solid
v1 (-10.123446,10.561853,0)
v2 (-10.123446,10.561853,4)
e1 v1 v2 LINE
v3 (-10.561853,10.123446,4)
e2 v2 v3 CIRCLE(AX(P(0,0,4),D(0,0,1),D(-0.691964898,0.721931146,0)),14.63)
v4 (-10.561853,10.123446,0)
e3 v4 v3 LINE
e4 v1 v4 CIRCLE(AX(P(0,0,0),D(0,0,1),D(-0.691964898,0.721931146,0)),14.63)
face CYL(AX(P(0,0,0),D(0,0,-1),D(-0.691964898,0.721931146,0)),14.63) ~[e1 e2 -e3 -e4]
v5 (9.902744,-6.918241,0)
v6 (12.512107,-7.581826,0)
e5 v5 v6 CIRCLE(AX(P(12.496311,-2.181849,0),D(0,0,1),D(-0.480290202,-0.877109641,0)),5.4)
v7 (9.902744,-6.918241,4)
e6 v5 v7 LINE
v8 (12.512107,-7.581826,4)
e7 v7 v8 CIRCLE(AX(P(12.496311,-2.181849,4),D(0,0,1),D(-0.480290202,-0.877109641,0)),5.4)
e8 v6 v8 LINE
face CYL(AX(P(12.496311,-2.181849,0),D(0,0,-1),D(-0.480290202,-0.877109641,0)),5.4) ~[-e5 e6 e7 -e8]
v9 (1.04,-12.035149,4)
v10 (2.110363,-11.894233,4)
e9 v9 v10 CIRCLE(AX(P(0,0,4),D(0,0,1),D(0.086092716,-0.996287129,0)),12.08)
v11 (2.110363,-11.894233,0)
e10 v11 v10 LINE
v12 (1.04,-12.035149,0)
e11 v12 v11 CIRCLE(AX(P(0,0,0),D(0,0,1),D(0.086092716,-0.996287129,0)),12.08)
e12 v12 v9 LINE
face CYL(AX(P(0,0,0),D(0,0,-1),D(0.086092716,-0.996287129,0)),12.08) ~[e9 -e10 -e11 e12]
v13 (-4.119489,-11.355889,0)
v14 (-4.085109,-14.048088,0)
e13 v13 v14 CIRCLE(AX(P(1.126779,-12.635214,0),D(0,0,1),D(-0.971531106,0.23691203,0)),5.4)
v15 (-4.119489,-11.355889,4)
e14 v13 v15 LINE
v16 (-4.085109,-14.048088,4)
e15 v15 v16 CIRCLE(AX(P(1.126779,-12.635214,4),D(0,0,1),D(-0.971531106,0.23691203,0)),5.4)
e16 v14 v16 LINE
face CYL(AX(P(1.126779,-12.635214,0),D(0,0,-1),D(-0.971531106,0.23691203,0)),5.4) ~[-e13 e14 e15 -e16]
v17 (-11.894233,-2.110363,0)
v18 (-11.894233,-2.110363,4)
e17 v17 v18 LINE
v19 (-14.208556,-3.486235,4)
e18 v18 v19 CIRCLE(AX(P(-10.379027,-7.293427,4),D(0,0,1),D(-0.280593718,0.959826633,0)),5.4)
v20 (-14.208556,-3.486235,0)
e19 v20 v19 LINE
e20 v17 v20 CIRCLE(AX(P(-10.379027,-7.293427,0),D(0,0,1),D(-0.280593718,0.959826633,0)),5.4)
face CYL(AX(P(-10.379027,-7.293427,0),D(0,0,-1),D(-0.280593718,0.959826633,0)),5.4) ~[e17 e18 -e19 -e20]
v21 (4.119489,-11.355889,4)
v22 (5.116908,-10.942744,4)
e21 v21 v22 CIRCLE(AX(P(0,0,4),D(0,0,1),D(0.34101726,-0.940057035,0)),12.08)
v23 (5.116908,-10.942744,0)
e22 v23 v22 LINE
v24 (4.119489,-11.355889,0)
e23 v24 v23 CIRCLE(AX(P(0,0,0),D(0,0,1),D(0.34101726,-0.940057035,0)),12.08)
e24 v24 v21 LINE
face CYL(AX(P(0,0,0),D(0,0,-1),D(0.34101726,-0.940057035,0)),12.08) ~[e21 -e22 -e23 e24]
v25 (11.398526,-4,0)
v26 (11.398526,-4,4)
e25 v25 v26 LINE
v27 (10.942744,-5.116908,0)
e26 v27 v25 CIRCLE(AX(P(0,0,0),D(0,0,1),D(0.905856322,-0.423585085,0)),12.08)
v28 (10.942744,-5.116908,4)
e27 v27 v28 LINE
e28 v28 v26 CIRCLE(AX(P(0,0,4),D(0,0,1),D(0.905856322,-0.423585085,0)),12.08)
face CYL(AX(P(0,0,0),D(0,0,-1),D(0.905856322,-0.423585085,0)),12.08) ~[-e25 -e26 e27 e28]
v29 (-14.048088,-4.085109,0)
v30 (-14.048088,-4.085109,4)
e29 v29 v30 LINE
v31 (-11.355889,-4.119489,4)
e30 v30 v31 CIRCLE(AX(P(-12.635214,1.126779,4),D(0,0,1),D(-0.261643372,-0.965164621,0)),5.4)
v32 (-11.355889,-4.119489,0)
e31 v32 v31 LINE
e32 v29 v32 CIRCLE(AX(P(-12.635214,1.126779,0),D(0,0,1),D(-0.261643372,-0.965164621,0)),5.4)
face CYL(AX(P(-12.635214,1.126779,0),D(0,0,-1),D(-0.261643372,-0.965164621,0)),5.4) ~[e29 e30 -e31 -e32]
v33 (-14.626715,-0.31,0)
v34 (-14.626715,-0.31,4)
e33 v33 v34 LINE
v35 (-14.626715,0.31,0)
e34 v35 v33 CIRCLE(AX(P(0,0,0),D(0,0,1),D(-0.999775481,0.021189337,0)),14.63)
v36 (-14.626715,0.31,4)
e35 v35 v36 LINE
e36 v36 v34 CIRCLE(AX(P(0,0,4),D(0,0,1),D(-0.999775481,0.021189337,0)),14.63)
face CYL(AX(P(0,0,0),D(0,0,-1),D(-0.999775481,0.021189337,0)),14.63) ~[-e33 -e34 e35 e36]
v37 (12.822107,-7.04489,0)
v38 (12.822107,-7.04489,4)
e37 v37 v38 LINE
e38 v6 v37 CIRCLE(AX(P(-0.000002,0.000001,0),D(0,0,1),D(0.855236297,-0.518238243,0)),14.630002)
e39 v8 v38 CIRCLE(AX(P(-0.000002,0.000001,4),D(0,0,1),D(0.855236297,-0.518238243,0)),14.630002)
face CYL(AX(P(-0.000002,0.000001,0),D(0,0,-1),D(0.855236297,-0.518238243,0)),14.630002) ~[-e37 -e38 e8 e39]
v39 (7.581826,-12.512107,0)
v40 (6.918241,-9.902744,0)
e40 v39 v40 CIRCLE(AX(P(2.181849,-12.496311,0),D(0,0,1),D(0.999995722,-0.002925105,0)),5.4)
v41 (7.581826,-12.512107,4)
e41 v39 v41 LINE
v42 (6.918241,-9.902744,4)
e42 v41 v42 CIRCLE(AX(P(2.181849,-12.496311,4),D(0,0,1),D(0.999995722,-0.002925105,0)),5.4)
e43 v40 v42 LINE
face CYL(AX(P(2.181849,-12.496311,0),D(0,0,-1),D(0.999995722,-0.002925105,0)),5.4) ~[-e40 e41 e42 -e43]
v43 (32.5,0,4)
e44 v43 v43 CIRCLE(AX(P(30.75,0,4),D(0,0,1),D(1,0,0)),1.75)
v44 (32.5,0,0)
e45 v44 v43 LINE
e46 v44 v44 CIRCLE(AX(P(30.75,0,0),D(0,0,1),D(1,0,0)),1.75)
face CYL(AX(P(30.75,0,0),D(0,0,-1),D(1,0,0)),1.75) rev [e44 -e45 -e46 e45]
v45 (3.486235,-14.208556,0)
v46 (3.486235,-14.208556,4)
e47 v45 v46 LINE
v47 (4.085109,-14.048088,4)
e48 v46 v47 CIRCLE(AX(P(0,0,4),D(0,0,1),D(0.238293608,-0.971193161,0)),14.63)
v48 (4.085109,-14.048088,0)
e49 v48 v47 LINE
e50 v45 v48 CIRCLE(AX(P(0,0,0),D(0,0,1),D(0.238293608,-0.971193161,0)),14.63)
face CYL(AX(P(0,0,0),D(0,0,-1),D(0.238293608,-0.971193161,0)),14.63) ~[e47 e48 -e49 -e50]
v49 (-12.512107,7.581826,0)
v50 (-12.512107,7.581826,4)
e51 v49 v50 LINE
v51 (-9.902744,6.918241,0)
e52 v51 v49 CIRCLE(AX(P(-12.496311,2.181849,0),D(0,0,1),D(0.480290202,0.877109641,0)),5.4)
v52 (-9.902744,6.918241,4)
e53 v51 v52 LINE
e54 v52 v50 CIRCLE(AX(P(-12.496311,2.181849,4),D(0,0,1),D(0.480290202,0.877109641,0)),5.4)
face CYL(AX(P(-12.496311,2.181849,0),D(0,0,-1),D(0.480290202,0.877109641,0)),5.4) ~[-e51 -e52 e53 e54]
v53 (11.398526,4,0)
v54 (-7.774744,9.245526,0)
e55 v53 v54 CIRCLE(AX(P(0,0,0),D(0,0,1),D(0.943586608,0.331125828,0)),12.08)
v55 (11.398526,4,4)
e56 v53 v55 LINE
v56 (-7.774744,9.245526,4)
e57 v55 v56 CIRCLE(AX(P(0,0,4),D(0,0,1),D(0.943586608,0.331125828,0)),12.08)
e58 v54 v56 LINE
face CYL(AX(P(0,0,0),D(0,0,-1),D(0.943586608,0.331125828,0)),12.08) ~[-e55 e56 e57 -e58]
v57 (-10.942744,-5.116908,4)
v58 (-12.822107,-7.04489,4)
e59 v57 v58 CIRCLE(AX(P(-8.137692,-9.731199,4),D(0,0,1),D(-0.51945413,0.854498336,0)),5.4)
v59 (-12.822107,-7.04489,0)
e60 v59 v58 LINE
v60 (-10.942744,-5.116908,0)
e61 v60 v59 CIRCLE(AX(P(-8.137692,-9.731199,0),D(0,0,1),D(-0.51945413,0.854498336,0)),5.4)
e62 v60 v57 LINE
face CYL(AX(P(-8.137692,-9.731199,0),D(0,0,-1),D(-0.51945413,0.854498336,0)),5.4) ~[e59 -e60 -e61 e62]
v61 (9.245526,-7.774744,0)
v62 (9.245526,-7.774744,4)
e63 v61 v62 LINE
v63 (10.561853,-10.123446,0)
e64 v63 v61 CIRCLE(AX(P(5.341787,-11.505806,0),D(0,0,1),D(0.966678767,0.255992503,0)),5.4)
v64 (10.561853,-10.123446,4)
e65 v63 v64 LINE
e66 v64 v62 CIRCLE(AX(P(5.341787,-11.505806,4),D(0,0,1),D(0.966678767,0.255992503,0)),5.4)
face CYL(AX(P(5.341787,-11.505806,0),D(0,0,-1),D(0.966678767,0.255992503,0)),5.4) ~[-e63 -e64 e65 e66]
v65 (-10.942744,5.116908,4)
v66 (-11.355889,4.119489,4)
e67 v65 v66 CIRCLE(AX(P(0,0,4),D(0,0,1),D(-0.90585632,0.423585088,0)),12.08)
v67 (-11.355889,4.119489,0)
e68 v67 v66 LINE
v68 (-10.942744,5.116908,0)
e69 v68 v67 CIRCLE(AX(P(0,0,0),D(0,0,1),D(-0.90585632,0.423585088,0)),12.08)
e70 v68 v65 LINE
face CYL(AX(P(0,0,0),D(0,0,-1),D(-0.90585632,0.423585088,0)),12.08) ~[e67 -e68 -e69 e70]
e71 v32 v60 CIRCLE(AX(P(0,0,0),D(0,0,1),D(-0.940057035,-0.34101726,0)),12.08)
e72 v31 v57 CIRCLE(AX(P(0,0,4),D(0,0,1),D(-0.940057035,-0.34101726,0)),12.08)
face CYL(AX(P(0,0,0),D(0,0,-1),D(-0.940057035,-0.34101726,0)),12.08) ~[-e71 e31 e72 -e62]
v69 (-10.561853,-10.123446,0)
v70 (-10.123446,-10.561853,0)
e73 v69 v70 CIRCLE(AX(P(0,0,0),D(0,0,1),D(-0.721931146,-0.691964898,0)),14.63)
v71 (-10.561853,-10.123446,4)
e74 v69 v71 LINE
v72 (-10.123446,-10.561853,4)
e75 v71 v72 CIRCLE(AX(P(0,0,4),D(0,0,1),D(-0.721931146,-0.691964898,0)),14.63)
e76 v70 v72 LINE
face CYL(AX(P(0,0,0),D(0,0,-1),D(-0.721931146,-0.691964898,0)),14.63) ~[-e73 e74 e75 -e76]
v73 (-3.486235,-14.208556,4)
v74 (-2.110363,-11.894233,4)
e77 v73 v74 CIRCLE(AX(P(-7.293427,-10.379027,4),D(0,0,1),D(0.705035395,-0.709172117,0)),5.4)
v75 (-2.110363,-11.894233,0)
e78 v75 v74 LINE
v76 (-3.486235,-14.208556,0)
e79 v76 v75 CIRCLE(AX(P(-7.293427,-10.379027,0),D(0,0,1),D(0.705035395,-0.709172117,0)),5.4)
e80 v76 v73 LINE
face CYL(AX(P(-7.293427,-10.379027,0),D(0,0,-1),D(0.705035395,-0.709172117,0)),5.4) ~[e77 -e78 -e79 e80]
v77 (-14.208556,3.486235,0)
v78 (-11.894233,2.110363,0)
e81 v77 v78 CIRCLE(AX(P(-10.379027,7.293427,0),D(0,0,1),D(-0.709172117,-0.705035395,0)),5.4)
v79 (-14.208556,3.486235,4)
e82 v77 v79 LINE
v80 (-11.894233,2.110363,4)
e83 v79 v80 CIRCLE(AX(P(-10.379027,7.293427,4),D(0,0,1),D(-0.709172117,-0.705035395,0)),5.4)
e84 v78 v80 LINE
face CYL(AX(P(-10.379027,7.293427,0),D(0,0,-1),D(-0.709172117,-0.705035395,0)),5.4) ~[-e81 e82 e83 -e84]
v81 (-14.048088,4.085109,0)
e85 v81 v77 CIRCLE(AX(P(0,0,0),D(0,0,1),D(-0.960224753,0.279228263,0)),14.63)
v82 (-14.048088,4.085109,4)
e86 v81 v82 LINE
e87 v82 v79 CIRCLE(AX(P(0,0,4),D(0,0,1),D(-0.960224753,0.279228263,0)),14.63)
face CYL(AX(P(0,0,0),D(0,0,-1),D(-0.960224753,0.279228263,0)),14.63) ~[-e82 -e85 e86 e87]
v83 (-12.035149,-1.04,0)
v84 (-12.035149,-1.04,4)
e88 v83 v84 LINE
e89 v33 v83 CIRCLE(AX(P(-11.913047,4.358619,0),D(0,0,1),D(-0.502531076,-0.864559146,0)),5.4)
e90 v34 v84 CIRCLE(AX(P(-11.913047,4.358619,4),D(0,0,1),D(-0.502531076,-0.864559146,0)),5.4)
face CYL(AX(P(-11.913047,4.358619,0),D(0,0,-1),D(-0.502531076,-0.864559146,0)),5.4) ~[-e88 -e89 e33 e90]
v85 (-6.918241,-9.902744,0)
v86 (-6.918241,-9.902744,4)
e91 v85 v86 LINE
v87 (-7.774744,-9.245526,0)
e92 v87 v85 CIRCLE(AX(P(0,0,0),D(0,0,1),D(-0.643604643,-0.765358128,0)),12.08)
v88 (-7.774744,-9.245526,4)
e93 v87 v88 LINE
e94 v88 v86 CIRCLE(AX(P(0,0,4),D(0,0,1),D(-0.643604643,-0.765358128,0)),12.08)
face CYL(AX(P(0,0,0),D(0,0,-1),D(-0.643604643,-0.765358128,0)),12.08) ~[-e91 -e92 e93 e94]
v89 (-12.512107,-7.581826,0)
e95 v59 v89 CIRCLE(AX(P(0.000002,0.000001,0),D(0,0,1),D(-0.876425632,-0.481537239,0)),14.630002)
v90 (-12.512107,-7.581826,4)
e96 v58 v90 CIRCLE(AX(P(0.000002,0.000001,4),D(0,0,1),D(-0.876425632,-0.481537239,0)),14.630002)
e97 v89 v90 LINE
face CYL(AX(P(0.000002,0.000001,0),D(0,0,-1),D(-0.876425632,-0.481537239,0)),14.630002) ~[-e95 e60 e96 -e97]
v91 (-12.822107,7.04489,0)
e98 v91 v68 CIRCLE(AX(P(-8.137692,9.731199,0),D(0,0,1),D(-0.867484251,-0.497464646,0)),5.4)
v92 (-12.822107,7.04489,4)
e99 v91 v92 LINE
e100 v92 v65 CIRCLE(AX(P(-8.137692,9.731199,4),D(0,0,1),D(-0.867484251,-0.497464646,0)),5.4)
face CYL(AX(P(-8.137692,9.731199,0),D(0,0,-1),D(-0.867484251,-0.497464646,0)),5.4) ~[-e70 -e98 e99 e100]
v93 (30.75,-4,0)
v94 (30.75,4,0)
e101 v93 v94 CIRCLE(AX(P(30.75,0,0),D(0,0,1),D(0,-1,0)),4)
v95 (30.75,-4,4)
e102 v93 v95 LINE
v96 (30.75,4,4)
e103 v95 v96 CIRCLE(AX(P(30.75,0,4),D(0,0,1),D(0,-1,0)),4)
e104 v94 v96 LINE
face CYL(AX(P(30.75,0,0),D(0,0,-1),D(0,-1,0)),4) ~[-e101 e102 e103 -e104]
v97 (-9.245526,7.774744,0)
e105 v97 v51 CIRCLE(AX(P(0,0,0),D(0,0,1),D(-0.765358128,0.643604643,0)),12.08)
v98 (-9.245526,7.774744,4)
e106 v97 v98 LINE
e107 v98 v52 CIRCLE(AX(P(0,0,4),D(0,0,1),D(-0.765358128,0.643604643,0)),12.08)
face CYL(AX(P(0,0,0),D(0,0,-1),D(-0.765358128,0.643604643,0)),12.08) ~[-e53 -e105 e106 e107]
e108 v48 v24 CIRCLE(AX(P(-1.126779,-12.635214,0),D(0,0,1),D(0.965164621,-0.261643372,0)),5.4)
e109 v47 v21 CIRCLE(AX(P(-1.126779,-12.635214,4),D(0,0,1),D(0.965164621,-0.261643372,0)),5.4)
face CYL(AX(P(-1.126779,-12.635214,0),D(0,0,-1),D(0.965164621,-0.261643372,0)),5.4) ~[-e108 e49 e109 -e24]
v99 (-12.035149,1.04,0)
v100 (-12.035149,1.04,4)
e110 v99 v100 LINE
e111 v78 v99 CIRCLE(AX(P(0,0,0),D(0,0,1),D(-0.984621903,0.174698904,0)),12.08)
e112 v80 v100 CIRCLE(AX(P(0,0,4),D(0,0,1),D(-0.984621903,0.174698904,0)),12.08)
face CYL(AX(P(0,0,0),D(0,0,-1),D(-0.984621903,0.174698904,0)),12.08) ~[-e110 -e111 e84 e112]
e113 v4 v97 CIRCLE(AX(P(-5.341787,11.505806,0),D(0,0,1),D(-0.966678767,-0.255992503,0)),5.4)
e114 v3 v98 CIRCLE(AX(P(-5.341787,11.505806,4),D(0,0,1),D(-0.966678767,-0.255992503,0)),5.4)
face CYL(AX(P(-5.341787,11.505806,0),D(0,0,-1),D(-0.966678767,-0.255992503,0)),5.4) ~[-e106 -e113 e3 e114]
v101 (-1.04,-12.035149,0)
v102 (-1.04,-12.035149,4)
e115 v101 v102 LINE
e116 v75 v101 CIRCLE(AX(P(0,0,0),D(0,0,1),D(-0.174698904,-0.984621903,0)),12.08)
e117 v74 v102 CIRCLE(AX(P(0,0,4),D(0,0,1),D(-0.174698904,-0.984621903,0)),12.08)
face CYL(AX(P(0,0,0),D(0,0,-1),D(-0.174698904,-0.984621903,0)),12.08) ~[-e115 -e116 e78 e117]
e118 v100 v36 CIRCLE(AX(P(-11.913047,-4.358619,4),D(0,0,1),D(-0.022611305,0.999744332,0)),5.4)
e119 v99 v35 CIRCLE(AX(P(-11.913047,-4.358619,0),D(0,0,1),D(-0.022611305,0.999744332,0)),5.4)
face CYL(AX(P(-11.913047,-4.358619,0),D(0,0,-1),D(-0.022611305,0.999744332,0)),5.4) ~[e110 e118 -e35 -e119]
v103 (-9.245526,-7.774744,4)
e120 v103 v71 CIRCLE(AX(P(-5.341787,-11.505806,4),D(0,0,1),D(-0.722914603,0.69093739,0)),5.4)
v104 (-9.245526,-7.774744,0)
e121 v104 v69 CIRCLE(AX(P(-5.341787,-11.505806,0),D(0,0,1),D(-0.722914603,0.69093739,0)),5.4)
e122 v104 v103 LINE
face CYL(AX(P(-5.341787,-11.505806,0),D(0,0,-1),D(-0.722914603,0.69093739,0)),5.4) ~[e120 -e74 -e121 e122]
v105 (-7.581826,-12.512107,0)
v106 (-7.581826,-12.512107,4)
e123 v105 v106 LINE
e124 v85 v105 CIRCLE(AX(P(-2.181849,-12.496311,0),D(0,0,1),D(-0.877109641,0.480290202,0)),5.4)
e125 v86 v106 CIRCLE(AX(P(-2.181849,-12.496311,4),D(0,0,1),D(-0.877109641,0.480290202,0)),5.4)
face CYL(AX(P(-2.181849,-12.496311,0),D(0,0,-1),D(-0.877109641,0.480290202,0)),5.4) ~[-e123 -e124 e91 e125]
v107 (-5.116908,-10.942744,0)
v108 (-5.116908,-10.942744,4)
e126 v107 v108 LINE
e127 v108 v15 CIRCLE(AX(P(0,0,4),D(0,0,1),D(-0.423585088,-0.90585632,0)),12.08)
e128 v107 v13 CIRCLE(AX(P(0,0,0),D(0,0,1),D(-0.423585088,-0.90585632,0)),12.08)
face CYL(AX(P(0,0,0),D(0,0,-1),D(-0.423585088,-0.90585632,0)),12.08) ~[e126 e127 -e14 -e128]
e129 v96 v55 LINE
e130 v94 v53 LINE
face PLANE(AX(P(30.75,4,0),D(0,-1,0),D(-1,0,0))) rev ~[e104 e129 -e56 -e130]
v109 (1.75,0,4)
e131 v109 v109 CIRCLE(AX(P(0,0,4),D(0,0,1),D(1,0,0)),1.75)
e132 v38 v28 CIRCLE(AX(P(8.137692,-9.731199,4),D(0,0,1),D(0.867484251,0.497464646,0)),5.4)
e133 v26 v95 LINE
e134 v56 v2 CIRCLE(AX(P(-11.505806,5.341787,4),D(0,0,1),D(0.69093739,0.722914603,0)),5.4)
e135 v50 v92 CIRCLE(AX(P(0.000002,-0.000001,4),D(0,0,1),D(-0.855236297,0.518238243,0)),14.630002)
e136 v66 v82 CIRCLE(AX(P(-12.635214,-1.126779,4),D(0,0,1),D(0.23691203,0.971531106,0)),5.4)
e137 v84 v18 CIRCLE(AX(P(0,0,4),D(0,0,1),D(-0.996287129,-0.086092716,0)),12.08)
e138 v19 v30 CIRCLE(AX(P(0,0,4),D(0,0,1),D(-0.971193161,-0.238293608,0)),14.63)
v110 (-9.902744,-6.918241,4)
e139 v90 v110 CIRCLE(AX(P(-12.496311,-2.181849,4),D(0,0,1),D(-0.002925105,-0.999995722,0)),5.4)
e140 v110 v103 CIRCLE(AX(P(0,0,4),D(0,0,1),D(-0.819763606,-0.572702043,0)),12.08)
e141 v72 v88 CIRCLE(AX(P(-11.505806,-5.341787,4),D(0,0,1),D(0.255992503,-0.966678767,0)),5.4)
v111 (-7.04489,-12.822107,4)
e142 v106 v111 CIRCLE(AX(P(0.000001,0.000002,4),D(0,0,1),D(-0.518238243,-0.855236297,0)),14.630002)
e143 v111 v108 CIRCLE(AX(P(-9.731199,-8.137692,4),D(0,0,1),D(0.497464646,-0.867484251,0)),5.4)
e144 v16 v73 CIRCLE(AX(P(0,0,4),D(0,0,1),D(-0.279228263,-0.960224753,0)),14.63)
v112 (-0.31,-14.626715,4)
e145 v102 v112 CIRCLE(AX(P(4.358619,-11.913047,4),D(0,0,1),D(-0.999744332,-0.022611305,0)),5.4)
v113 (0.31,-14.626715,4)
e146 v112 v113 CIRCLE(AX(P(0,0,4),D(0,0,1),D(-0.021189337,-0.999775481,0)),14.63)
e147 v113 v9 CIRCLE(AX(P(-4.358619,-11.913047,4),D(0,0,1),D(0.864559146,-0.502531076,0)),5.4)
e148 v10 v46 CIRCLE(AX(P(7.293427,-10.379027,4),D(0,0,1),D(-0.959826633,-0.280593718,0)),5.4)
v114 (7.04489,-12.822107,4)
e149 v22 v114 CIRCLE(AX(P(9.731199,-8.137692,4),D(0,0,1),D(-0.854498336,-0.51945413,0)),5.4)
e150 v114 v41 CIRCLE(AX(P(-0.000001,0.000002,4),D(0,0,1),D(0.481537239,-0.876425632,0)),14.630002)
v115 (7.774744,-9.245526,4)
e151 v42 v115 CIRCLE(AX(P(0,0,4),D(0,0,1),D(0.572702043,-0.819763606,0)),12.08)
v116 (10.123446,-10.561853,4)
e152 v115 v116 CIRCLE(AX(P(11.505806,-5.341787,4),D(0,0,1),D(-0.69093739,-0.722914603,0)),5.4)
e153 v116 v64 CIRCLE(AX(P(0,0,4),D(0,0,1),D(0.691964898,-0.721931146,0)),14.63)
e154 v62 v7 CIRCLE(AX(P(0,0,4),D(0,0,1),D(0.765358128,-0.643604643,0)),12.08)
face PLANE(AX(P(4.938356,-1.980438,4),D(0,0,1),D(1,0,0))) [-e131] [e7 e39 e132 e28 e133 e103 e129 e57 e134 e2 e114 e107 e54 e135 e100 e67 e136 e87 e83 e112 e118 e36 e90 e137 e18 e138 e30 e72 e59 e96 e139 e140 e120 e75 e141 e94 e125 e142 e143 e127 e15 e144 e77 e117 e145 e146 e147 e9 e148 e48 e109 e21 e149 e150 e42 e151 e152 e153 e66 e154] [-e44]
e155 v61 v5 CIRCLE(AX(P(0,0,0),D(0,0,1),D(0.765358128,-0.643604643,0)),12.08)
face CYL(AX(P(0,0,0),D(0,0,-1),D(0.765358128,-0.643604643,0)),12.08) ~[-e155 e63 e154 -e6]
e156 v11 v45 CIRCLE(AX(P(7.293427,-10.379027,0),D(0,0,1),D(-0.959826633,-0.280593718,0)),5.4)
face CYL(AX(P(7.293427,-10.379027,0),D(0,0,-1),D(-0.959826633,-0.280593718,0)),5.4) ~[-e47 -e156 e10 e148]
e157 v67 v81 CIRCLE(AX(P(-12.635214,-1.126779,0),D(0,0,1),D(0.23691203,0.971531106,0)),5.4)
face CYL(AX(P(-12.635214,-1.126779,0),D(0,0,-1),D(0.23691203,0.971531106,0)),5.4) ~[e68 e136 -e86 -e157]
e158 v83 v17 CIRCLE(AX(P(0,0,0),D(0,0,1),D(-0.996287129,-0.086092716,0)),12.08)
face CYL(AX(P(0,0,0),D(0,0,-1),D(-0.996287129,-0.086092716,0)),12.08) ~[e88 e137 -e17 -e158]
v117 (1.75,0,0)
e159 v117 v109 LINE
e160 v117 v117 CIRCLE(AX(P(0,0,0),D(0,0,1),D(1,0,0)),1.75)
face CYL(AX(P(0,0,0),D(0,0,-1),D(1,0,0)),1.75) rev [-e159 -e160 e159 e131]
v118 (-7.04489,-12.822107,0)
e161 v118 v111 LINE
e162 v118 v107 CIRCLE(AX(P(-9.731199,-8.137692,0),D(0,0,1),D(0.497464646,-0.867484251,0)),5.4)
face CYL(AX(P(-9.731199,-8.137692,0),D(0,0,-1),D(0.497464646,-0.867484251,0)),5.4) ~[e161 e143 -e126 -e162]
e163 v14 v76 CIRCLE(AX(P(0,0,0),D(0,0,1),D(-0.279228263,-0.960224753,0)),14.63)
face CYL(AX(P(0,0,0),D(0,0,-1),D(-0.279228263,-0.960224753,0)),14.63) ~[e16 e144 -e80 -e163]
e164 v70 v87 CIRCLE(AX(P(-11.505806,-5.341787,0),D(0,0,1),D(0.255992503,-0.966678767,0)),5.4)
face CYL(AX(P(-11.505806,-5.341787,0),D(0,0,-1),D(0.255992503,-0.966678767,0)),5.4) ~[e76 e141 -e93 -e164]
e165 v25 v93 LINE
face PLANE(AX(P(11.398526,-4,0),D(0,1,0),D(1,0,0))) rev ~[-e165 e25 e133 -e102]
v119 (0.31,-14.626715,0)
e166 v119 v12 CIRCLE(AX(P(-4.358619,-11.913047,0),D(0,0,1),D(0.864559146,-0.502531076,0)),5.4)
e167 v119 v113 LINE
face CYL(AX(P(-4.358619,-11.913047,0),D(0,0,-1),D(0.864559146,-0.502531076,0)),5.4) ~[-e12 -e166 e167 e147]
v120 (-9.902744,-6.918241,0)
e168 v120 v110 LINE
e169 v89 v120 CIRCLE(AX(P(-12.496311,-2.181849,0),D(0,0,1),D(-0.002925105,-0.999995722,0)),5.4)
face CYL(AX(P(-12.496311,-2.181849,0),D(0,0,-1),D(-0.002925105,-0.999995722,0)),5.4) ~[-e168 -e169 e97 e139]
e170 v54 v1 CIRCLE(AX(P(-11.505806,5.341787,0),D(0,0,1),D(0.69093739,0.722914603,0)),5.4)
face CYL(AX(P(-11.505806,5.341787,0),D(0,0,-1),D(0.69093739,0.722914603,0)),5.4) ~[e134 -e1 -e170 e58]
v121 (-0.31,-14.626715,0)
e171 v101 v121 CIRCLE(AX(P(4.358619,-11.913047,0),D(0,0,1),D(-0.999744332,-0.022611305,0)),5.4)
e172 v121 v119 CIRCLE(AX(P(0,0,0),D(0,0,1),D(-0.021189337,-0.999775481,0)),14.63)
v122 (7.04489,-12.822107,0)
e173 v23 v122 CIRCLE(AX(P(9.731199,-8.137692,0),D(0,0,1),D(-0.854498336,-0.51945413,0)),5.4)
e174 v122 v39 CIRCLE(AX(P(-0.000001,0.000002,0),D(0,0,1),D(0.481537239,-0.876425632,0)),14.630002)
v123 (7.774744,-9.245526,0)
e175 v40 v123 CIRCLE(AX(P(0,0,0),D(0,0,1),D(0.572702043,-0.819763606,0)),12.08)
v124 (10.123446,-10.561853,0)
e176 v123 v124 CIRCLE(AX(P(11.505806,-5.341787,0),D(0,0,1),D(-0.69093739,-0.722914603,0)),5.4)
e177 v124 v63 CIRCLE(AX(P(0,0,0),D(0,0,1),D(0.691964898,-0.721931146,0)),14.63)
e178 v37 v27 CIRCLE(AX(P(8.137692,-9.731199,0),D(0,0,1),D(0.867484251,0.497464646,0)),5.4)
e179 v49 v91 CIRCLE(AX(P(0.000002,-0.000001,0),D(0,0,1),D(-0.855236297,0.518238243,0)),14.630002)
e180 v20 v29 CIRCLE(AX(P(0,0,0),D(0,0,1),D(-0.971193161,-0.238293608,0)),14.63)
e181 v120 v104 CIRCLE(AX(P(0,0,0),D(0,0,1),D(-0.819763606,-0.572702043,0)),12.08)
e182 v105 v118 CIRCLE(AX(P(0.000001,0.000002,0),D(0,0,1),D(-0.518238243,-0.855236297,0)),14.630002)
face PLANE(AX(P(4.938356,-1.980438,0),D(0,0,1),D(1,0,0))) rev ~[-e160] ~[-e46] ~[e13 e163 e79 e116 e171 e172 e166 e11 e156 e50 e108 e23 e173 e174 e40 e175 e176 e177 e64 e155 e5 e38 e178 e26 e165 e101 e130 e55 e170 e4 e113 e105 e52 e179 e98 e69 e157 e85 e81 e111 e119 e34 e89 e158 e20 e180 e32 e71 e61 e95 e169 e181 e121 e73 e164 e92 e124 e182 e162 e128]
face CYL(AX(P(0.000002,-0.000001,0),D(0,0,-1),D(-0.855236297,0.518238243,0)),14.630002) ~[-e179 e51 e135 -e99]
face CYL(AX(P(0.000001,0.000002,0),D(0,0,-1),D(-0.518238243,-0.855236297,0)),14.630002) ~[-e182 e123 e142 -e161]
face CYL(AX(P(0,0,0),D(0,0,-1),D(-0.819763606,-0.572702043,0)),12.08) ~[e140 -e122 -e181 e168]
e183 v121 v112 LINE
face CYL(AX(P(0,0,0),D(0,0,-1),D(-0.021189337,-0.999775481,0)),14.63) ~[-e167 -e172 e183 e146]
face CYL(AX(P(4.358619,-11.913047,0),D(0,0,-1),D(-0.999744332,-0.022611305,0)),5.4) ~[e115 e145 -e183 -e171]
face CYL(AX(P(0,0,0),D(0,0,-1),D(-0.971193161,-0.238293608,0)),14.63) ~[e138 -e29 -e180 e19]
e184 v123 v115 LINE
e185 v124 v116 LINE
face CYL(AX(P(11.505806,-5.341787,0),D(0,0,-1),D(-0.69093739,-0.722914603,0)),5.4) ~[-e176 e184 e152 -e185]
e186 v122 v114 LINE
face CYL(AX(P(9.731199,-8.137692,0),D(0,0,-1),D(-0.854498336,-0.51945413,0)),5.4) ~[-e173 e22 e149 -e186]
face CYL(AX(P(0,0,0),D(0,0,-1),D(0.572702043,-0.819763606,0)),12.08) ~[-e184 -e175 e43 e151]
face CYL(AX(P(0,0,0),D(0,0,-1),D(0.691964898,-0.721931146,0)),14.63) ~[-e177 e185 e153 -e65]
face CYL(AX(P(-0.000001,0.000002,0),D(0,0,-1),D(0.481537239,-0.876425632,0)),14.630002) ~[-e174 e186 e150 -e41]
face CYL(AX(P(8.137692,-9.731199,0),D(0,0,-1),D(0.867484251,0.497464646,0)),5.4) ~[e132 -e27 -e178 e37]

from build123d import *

# Parameters (mm, degrees)
SKETCH1_R           = 1.75
BOSS_EXTRUDE3_DEPTH = 4


with BuildPart() as part:
    # Sketch1 → Boss-Extrude3 (new body)
    with BuildSketch(Plane.XY):
        with BuildLine():
            ThreePointArc((11.398526221, 4), (3.187763399, 11.651805204), (-7.774744082, 9.245526186))
            ThreePointArc((-7.774744082, 9.245526186), (-8.865739978, 10.052419077), (-10.123446462, 10.561852666))
            ThreePointArc((-10.123446462, 10.561852666), (-10.344972209, 10.344972209), (-10.561852666, 10.123446462))
            ThreePointArc((-10.561852666, 10.123446462), (-10.052419077, 8.865739978), (-9.245526186, 7.774744082))
            ThreePointArc((-9.245526186, 7.774744082), (-9.583708351, 7.353838062), (-9.90274436, 6.918240682))
            ThreePointArc((-9.90274436, 6.918240682), (-11.16540472, 7.415268848), (-12.51210701, 7.581825517))
            ThreePointArc((-12.51210701, 7.581825517), (-12.669951657, 7.315), (-12.82210701, 7.044889767))
            ThreePointArc((-12.82210701, 7.044889767), (-12.004513558, 5.961889707), (-10.94274436, 5.116907842))
            ThreePointArc((-10.94274436, 5.116907842), (-11.160464753, 4.622815863), (-11.355888976, 4.119488508))
            ThreePointArc((-11.355888976, 4.119488508), (-12.704165582, 4.272780301), (-14.048088143, 4.085109489))
            ThreePointArc((-14.048088143, 4.085109489), (-14.131494839, 3.78652263), (-14.208555951, 3.486235477))
            ThreePointArc((-14.208555951, 3.486235477), (-13.138520279, 2.651746506), (-11.89423259, 2.110362789))
            ThreePointArc((-11.89423259, 2.110362789), (-11.976653925, 1.576756402), (-12.035148524, 1.04))
            ThreePointArc((-12.035148524, 1.04), (-13.377158555, 0.839108838), (-14.626715284, 0.31))
            ThreePointArc((-14.626715284, 0.31), (-14.63, 0), (-14.626715284, -0.31))
            ThreePointArc((-14.626715284, -0.31), (-13.377158555, -0.839108838), (-12.035148524, -1.04))
            ThreePointArc((-12.035148524, -1.04), (-11.976653925, -1.576756402), (-11.89423259, -2.110362789))
            ThreePointArc((-11.89423259, -2.110362789), (-13.138520279, -2.651746506), (-14.208555951, -3.486235477))
            ThreePointArc((-14.208555951, -3.486235477), (-14.131494839, -3.78652263), (-14.048088143, -4.085109489))
            ThreePointArc((-14.048088143, -4.085109489), (-12.704165582, -4.272780301), (-11.355888976, -4.119488508))
            ThreePointArc((-11.355888976, -4.119488508), (-11.160464753, -4.622815863), (-10.94274436, -5.116907842))
            ThreePointArc((-10.94274436, -5.116907842), (-12.004513558, -5.961889707), (-12.82210701, -7.044889767))
            ThreePointArc((-12.82210701, -7.044889767), (-12.669951657, -7.315), (-12.51210701, -7.581825517))
            ThreePointArc((-12.51210701, -7.581825517), (-11.16540472, -7.415268848), (-9.90274436, -6.918240682))
            ThreePointArc((-9.90274436, -6.918240682), (-9.583708351, -7.353838062), (-9.245526186, -7.774744082))
            ThreePointArc((-9.245526186, -7.774744082), (-10.052419077, -8.865739978), (-10.561852666, -10.123446462))
            ThreePointArc((-10.561852666, -10.123446462), (-10.344972209, -10.344972209), (-10.123446462, -10.561852666))
            ThreePointArc((-10.123446462, -10.561852666), (-8.865739978, -10.052419077), (-7.774744082, -9.245526186))
            ThreePointArc((-7.774744082, -9.245526186), (-7.353838062, -9.583708351), (-6.918240682, -9.90274436))
            ThreePointArc((-6.918240682, -9.90274436), (-7.415268848, -11.16540472), (-7.581825517, -12.51210701))
            ThreePointArc((-7.581825517, -12.51210701), (-7.315, -12.669951657), (-7.044889767, -12.82210701))
            ThreePointArc((-7.044889767, -12.82210701), (-5.961889707, -12.004513558), (-5.116907842, -10.94274436))
            ThreePointArc((-5.116907842, -10.94274436), (-4.622815863, -11.160464753), (-4.119488508, -11.355888976))
            ThreePointArc((-4.119488508, -11.355888976), (-4.272780301, -12.704165582), (-4.085109489, -14.048088143))
            ThreePointArc((-4.085109489, -14.048088143), (-3.78652263, -14.131494839), (-3.486235477, -14.208555951))
            ThreePointArc((-3.486235477, -14.208555951), (-2.651746506, -13.138520279), (-2.110362789, -11.89423259))
            ThreePointArc((-2.110362789, -11.89423259), (-1.576756402, -11.976653925), (-1.04, -12.035148524))
            ThreePointArc((-1.04, -12.035148524), (-0.839108838, -13.377158555), (-0.31, -14.626715284))
            ThreePointArc((-0.31, -14.626715284), (0, -14.63), (0.31, -14.626715284))
            ThreePointArc((0.31, -14.626715284), (0.839108838, -13.377158555), (1.04, -12.035148524))
            ThreePointArc((1.04, -12.035148524), (1.576756402, -11.976653925), (2.110362789, -11.89423259))
            ThreePointArc((2.110362789, -11.89423259), (2.651746506, -13.138520279), (3.486235477, -14.208555951))
            ThreePointArc((3.486235477, -14.208555951), (3.78652263, -14.131494839), (4.085109489, -14.048088143))
            ThreePointArc((4.085109489, -14.048088143), (4.272780301, -12.704165582), (4.119488508, -11.355888976))
            ThreePointArc((4.119488508, -11.355888976), (4.622815863, -11.160464753), (5.116907842, -10.94274436))
            ThreePointArc((5.116907842, -10.94274436), (5.961889707, -12.004513558), (7.044889767, -12.82210701))
            ThreePointArc((7.044889767, -12.82210701), (7.315, -12.669951657), (7.581825517, -12.51210701))
            ThreePointArc((7.581825517, -12.51210701), (7.415268848, -11.16540472), (6.918240682, -9.90274436))
            ThreePointArc((6.918240682, -9.90274436), (7.353838062, -9.583708351), (7.774744082, -9.245526186))
            ThreePointArc((7.774744082, -9.245526186), (8.865739978, -10.052419077), (10.123446462, -10.561852666))
            ThreePointArc((10.123446462, -10.561852666), (10.344972209, -10.344972209), (10.561852666, -10.123446462))
            ThreePointArc((10.561852666, -10.123446462), (10.052419077, -8.865739978), (9.245526186, -7.774744082))
            ThreePointArc((9.245526186, -7.774744082), (9.583708351, -7.353838062), (9.90274436, -6.918240682))
            ThreePointArc((9.90274436, -6.918240682), (11.16540472, -7.415268848), (12.51210701, -7.581825517))
            ThreePointArc((12.51210701, -7.581825517), (12.669951657, -7.315), (12.82210701, -7.044889767))
            ThreePointArc((12.82210701, -7.044889767), (12.004513558, -5.961889707), (10.94274436, -5.116907842))
            ThreePointArc((10.94274436, -5.116907842), (11.184585981, -4.564146845), (11.398526221, -4))
            Line((11.398526221, -4), (30.75, -4))
            ThreePointArc((30.75, -4), (34.75, 0), (30.75, 4))
            Line((30.75, 4), (11.398526221, 4))
        make_face()
        Circle(SKETCH1_R, mode=Mode.SUBTRACT)
        with Locations((30.75, 0)):
            Circle(SKETCH1_R, mode=Mode.SUBTRACT)
    extrude(amount=BOSS_EXTRUDE3_DEPTH)


solid = part.part
